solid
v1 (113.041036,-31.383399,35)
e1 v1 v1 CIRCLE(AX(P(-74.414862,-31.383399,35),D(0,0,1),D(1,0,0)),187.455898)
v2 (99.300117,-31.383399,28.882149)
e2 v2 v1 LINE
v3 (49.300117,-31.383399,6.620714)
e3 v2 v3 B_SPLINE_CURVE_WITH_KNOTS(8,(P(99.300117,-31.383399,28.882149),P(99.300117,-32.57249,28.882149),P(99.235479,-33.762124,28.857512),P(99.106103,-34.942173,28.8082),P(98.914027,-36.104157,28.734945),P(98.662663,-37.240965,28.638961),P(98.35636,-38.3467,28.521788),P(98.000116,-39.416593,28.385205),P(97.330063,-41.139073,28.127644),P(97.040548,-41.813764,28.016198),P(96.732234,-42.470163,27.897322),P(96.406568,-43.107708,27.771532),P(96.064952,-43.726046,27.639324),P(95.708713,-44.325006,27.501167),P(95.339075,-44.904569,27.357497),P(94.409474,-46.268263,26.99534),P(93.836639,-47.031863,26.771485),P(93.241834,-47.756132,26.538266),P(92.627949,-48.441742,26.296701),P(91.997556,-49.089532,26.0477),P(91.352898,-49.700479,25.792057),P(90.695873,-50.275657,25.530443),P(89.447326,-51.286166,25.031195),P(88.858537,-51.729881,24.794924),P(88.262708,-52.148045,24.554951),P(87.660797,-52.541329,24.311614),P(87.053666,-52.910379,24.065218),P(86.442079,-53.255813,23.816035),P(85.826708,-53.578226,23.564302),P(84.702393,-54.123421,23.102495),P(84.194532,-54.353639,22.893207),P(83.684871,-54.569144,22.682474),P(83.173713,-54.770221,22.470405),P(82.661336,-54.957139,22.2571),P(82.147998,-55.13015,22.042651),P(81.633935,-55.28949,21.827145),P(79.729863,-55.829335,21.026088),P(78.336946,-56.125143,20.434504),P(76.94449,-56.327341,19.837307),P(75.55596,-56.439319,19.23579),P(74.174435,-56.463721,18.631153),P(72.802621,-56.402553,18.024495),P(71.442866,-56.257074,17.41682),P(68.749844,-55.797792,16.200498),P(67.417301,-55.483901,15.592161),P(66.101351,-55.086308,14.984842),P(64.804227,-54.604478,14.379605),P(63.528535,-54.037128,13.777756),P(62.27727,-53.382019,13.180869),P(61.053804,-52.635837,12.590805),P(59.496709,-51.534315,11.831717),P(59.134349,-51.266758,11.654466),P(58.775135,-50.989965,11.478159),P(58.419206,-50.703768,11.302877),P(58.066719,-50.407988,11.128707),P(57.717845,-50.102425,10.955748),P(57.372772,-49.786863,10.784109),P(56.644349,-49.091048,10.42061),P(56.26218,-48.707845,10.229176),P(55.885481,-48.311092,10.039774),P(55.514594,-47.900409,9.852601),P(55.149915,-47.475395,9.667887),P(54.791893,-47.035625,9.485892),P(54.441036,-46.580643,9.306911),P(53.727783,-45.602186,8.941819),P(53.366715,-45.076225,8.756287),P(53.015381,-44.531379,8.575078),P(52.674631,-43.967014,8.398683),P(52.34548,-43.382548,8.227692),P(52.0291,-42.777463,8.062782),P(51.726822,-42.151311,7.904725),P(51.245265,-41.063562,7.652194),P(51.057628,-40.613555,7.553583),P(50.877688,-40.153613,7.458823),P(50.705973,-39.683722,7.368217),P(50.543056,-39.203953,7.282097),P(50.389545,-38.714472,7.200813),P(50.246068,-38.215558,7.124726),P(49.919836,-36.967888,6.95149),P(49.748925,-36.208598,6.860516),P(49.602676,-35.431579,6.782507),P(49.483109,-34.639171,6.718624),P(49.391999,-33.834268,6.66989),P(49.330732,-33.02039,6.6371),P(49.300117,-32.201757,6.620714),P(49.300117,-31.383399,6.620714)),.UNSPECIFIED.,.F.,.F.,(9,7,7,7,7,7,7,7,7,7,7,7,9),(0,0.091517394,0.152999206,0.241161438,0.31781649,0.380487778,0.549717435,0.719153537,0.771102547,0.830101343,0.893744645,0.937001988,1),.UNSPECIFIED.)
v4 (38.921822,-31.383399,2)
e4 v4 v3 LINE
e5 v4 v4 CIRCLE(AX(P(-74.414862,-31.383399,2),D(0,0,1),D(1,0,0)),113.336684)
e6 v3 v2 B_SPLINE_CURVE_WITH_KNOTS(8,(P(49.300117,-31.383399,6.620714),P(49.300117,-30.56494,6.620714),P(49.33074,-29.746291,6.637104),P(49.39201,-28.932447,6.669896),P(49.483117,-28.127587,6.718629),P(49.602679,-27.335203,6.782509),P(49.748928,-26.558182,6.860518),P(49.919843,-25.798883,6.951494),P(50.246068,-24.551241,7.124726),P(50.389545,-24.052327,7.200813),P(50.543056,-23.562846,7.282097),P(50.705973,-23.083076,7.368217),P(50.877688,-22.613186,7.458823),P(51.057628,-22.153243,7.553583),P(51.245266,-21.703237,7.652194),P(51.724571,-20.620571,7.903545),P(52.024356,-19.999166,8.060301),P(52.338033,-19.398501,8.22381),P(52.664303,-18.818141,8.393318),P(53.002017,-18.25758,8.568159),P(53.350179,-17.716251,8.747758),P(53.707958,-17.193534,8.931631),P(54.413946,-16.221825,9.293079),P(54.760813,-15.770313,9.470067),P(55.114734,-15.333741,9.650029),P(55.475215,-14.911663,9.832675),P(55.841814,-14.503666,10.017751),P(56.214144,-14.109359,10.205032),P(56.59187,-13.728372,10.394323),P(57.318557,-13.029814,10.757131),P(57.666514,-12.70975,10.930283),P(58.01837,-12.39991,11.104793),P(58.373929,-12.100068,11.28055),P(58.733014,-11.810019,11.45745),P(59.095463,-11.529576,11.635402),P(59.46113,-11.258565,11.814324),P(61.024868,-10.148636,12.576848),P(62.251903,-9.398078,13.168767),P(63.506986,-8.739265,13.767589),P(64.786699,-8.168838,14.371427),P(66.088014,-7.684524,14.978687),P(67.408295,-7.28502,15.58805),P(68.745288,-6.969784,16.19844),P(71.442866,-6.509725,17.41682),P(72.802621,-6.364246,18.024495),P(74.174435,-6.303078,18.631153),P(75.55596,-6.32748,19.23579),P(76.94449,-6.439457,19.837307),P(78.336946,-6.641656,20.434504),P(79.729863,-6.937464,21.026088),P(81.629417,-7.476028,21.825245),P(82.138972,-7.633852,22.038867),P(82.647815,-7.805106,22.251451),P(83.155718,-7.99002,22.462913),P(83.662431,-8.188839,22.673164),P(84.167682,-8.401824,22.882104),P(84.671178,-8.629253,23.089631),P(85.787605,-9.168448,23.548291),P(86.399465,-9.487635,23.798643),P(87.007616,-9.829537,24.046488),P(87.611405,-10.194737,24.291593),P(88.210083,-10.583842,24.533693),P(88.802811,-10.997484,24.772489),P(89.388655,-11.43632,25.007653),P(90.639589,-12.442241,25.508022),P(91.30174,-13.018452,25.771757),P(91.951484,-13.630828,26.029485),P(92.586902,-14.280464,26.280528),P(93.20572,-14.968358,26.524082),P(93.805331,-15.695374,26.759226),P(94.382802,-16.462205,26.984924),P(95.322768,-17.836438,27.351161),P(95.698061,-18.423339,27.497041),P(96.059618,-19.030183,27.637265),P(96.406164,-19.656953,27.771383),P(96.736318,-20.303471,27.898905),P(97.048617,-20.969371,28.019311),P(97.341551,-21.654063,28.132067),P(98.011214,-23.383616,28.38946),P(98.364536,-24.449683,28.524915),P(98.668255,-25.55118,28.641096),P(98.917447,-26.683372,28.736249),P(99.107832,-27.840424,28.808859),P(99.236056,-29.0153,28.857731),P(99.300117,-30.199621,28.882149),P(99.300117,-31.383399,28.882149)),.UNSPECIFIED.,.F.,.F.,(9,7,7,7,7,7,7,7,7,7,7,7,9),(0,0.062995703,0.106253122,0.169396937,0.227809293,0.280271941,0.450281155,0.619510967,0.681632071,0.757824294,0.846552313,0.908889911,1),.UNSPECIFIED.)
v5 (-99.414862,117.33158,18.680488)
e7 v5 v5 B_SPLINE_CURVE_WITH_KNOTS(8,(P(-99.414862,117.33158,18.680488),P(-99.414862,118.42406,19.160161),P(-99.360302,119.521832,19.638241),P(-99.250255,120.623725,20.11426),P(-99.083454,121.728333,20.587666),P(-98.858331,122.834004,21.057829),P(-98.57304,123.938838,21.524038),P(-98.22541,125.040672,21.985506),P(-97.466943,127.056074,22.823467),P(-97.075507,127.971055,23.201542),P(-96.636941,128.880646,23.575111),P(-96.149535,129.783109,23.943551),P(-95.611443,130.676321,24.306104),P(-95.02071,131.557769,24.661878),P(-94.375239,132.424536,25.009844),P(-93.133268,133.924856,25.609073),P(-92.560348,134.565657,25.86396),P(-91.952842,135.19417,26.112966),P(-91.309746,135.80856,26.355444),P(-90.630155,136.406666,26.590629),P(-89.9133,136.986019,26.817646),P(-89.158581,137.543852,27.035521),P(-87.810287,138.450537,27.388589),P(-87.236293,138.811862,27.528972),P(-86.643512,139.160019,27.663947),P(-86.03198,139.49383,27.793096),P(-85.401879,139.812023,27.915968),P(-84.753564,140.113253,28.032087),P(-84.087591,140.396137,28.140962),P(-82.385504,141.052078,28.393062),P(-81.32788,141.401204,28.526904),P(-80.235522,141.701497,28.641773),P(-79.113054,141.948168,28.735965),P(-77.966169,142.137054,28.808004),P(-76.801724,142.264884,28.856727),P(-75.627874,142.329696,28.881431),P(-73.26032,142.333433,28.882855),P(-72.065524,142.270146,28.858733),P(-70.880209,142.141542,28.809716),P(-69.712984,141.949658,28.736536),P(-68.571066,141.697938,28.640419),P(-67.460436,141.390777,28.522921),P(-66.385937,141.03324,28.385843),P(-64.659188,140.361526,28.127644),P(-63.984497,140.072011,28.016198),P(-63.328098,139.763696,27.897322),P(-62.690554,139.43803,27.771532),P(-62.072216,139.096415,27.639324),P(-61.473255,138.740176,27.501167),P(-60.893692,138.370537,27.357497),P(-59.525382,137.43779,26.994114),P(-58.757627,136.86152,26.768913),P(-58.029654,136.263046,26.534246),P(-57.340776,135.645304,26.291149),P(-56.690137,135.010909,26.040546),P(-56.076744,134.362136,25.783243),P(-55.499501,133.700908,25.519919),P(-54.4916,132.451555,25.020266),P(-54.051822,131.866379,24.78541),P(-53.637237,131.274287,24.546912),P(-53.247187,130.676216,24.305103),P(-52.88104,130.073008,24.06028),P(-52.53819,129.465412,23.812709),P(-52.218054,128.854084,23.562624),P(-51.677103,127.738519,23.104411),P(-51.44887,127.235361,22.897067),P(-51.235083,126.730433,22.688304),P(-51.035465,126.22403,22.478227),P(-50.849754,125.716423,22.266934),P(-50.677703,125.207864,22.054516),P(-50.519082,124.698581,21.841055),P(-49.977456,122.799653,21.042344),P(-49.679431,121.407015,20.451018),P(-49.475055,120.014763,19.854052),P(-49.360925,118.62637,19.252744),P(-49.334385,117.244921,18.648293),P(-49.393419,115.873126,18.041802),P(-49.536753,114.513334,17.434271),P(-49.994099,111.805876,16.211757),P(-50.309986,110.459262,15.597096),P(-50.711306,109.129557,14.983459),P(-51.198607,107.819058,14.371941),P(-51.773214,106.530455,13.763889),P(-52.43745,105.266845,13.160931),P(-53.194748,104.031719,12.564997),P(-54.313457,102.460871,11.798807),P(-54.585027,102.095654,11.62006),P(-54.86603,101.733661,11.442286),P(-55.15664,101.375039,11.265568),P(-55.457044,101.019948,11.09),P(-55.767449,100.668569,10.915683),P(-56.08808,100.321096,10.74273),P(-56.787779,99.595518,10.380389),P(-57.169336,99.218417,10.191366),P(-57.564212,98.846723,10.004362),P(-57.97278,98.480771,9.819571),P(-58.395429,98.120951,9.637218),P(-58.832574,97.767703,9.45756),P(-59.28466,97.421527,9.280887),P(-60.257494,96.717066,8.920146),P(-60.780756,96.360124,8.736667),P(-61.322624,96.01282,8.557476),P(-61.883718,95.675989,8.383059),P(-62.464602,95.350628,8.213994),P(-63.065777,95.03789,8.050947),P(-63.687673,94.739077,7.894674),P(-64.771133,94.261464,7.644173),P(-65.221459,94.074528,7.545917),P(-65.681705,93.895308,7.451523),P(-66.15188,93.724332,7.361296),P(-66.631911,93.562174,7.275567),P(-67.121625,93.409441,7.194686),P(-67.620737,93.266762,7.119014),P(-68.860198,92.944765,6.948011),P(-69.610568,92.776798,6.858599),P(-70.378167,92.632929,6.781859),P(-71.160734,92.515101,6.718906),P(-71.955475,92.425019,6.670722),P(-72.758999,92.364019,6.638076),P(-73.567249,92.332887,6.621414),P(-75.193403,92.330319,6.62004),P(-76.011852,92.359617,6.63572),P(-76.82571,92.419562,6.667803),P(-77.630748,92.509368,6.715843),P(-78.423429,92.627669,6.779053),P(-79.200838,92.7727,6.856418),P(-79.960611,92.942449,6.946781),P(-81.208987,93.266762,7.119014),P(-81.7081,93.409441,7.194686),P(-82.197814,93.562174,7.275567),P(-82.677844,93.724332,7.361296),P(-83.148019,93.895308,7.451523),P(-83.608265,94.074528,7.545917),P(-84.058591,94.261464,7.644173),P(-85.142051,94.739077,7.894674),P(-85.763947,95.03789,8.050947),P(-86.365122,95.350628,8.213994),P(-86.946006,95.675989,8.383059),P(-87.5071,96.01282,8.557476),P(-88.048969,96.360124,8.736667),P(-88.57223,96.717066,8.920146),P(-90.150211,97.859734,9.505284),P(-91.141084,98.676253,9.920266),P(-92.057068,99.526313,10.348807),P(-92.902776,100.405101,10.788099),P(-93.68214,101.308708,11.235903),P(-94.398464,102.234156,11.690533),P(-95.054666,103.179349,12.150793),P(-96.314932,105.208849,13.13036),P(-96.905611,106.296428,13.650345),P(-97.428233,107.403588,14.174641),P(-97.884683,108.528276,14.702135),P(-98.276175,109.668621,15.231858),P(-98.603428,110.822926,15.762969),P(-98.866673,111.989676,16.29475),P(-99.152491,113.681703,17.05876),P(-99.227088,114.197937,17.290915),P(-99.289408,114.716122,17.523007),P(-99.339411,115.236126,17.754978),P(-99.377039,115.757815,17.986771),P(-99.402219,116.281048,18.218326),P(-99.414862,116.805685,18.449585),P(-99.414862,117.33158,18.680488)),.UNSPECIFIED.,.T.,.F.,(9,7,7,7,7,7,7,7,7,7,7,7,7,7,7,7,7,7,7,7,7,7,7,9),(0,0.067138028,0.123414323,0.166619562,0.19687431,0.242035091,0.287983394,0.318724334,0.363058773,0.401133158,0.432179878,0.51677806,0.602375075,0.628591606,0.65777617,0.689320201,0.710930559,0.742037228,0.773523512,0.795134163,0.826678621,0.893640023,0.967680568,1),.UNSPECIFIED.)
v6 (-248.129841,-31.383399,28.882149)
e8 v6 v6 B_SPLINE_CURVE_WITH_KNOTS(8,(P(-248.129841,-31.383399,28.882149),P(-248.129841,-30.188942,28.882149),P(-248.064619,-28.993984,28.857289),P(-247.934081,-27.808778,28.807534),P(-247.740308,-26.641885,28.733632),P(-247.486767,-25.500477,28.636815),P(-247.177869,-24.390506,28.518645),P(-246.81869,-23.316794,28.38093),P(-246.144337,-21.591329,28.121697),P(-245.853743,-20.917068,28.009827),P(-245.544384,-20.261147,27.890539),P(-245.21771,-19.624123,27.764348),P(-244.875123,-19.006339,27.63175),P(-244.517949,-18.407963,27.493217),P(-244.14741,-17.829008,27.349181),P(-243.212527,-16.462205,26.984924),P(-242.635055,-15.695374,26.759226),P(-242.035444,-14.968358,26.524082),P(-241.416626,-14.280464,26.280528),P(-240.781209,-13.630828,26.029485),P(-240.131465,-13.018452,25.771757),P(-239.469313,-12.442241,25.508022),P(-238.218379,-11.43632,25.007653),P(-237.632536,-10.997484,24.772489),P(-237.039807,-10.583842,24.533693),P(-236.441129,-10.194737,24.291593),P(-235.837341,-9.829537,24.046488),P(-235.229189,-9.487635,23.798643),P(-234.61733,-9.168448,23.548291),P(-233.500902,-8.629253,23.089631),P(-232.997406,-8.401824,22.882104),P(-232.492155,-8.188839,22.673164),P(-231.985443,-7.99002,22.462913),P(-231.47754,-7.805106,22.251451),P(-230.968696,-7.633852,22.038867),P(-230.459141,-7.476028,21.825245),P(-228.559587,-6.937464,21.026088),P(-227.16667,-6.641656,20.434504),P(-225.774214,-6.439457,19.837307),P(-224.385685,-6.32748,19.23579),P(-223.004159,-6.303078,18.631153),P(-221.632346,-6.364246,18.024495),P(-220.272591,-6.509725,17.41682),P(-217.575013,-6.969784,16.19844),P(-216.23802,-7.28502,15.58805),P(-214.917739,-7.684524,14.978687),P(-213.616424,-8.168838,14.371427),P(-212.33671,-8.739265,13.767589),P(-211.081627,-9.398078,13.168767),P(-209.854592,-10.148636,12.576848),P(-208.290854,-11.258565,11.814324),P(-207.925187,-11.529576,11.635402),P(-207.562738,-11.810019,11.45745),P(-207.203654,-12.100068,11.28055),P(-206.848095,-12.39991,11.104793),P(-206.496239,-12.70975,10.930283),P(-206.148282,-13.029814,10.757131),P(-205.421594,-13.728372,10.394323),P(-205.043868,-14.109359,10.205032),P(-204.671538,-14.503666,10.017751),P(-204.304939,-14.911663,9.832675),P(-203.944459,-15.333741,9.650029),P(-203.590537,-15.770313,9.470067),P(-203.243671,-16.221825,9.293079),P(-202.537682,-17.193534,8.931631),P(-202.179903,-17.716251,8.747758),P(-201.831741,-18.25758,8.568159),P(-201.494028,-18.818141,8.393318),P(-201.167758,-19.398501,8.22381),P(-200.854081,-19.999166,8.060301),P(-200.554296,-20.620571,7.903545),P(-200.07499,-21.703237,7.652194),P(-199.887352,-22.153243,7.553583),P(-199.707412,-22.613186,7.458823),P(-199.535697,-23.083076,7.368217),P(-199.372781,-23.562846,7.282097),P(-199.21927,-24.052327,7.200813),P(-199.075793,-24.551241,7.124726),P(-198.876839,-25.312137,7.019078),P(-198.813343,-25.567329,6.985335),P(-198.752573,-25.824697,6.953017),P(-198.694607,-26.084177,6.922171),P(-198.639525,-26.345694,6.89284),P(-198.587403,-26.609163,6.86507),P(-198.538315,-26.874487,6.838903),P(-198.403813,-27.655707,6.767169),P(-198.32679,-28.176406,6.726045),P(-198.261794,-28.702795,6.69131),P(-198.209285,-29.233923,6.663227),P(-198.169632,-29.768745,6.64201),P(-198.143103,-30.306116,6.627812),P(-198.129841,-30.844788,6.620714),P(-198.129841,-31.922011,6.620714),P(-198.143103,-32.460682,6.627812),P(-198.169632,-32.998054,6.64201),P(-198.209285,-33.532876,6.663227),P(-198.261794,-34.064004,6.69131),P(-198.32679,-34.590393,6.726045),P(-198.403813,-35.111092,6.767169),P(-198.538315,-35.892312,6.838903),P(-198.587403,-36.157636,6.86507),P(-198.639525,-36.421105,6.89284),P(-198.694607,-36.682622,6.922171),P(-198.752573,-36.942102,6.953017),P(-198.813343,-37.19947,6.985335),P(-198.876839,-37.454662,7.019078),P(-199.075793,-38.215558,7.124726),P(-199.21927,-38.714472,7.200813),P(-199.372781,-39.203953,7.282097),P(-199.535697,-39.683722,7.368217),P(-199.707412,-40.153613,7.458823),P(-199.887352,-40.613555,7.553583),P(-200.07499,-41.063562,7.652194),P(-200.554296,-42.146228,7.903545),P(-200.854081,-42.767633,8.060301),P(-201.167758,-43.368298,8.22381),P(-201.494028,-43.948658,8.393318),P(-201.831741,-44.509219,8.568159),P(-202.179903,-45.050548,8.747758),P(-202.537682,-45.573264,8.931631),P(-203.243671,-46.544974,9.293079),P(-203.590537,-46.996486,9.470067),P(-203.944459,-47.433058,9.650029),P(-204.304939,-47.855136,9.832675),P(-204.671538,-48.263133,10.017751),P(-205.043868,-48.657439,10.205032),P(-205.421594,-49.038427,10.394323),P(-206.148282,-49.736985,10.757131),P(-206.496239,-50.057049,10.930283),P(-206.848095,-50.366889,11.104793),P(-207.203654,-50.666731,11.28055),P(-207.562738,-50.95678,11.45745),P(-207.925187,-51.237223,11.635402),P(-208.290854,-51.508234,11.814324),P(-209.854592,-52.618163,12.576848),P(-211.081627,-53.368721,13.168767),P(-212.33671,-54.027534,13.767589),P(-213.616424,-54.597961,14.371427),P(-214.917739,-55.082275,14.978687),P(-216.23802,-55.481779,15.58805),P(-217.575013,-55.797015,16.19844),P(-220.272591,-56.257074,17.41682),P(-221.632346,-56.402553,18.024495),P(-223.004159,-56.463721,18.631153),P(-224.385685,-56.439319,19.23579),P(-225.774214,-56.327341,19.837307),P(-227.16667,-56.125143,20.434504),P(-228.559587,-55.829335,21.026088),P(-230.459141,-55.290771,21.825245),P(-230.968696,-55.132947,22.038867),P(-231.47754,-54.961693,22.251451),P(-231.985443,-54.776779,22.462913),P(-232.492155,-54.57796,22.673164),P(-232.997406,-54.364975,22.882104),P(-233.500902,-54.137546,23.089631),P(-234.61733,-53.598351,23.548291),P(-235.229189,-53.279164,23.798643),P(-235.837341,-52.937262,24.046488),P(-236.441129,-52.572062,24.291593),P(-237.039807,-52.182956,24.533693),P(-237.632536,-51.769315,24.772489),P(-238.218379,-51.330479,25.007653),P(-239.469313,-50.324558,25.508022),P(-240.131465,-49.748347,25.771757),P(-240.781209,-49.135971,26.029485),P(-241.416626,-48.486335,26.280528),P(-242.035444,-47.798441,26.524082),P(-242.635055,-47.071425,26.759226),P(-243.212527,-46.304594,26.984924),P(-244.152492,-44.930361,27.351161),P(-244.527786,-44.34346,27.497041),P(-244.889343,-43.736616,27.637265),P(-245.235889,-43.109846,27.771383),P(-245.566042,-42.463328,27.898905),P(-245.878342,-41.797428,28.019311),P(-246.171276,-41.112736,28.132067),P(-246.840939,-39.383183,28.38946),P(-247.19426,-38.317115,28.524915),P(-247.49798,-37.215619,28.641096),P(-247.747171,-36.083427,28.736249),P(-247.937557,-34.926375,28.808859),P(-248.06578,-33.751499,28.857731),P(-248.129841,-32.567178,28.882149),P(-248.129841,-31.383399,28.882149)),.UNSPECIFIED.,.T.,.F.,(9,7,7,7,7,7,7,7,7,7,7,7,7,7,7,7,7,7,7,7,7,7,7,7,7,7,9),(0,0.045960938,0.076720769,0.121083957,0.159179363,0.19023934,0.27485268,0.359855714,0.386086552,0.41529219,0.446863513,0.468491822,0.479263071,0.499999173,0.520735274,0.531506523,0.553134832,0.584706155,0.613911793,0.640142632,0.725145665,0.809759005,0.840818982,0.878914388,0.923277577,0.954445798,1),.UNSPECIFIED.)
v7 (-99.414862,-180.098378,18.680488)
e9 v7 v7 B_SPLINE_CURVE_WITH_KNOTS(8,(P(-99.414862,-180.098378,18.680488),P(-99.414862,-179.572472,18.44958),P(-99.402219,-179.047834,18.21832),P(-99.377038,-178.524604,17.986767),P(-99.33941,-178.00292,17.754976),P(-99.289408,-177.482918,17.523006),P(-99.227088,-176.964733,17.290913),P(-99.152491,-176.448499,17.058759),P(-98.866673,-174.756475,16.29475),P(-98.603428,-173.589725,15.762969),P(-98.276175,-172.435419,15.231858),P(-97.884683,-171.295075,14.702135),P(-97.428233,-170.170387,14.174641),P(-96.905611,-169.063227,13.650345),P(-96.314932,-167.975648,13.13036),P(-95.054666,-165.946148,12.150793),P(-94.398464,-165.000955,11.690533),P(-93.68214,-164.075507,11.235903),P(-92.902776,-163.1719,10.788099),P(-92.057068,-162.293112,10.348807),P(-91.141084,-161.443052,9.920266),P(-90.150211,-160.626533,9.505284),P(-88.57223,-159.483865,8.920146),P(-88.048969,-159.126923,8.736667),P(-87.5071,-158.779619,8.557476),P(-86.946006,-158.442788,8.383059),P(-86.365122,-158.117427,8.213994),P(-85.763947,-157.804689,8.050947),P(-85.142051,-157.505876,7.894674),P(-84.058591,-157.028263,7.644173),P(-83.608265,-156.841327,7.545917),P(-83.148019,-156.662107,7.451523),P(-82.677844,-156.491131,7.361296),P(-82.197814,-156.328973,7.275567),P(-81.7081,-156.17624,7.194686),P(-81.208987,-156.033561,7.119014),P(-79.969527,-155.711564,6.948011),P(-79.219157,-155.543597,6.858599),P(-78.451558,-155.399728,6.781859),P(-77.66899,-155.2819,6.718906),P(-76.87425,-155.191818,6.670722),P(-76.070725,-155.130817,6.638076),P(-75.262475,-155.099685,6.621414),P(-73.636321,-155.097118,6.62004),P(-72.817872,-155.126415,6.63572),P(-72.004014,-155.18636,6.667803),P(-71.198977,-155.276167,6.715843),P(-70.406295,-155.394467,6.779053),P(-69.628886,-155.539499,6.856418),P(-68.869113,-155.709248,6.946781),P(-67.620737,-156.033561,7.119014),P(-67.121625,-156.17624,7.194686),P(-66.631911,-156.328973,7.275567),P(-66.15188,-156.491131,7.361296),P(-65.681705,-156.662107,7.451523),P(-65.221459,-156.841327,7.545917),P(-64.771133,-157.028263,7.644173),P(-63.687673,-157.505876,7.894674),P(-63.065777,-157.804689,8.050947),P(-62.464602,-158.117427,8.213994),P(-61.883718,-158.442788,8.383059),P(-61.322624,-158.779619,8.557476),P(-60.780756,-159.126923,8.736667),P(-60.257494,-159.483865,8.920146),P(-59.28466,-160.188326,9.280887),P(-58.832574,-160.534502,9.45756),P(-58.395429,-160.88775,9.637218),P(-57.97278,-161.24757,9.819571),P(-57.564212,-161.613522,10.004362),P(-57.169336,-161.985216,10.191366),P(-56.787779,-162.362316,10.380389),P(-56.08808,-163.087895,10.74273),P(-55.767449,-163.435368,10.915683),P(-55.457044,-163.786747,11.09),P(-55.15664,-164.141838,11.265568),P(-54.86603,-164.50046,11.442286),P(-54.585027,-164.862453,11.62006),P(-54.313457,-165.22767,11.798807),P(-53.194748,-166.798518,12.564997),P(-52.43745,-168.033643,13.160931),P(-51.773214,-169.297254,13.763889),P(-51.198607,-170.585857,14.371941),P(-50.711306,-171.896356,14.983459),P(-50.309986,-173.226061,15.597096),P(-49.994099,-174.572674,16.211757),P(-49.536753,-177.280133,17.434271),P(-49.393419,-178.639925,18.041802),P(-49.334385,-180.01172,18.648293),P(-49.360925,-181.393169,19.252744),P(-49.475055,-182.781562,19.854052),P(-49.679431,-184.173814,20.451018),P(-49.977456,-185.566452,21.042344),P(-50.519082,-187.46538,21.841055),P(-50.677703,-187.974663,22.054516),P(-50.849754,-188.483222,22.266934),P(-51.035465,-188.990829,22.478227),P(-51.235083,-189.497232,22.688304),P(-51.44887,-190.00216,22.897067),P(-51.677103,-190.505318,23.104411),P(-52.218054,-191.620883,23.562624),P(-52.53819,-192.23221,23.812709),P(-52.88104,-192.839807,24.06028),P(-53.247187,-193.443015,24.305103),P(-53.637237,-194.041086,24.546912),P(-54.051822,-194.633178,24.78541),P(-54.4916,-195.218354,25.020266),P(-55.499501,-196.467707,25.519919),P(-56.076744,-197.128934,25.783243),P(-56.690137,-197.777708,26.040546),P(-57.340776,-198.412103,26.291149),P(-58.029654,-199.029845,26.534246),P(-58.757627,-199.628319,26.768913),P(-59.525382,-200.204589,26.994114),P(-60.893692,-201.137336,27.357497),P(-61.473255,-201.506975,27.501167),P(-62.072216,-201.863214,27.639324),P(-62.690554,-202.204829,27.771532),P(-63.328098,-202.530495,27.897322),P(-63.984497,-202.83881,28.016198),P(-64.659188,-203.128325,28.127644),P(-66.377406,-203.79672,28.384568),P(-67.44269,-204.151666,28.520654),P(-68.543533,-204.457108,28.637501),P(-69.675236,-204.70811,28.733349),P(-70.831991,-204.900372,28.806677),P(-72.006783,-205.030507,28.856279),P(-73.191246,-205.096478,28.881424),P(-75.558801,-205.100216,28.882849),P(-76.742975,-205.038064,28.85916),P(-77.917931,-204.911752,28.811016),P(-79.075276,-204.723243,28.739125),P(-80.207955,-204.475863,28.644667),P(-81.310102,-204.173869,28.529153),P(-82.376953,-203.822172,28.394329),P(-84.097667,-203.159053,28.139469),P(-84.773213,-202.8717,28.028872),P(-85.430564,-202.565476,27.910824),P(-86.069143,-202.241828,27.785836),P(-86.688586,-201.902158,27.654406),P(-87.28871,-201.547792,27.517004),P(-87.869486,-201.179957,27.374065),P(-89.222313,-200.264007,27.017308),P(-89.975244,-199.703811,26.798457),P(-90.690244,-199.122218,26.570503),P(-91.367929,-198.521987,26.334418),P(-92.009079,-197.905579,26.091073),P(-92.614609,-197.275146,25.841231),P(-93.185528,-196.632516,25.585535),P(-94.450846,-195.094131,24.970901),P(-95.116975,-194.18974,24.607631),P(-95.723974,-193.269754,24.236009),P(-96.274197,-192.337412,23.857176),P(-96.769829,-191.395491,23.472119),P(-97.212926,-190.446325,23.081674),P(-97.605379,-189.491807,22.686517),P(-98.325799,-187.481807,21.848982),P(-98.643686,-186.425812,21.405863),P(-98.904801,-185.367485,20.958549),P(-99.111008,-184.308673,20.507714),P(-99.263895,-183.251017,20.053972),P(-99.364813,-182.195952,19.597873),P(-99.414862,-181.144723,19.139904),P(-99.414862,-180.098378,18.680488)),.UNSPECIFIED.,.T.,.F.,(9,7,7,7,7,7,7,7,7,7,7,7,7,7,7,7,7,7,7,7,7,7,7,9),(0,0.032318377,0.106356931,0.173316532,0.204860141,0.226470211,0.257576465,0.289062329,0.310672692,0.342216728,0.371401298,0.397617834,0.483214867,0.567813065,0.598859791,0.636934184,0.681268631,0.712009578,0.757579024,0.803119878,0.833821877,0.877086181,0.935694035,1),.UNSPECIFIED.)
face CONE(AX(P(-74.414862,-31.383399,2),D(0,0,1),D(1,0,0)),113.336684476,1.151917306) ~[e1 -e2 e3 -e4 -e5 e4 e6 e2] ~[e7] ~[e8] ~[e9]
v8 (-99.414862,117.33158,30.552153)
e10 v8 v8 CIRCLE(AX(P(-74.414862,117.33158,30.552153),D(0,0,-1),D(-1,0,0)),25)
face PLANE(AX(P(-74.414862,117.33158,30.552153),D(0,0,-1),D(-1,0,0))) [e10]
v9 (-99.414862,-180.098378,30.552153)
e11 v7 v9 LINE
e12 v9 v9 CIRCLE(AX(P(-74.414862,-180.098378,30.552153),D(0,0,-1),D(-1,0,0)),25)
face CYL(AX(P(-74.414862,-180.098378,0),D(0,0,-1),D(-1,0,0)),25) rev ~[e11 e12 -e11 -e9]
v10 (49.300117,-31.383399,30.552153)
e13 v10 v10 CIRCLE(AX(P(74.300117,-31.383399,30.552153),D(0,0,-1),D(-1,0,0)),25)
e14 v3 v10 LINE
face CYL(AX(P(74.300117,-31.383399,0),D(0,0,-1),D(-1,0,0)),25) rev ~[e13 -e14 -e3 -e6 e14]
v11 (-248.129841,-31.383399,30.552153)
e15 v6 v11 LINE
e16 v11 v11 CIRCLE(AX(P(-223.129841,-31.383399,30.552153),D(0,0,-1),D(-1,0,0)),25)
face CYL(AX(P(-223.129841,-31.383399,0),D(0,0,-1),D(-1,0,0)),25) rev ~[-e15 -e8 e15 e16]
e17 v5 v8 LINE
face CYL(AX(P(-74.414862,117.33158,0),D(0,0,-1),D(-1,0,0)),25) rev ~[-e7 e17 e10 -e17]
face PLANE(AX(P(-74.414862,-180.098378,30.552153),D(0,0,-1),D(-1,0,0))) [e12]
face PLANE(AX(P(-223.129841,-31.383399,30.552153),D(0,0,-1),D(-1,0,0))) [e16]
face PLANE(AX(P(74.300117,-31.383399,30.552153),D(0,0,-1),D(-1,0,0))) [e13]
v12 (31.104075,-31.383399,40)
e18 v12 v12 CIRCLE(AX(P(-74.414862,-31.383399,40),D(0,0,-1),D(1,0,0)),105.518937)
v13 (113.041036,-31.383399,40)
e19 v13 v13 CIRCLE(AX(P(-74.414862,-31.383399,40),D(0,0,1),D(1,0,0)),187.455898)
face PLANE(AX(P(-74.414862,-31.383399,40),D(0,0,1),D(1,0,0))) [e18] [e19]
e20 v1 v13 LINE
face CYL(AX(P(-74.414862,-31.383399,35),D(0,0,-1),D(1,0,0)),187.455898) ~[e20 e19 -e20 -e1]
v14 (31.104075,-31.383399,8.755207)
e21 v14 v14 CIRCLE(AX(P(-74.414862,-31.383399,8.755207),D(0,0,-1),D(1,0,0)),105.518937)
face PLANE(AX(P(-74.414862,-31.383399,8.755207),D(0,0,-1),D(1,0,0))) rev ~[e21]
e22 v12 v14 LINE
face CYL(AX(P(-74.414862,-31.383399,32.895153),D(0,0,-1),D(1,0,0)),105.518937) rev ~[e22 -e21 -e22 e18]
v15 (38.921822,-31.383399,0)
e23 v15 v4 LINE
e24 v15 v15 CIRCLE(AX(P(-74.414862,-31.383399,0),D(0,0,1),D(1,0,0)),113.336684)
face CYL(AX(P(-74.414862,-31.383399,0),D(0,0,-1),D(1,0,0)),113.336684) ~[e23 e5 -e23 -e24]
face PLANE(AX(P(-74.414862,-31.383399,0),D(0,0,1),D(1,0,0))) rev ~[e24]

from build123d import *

# Parameters (mm, degrees)
SKETCH1_R           = 113.336684476
BOSS_EXTRUDE1_DEPTH = 2
SKETCH3_R           = 113.336684476
BOSS_EXTRUDE2_DEPTH = 33
BOSS_EXTRUDE2_DRAFT = -66
SKETCH4_R           = 187.455898015
BOSS_EXTRUDE3_DEPTH = 5
SKETCH6_W           = 105.518937327
SKETCH6_H           = 48.279891136
SKETCH7_R           = 25
CUT_EXTRUDE1_DEPTH  = 30.552152957


with BuildPart() as part:
    # Sketch1 → Boss-Extrude1 (new body)
    with BuildSketch(Plane.XY):
        with Locations((-74.414862174, -31.38339944)):
            Circle(SKETCH1_R)
    extrude(amount=BOSS_EXTRUDE1_DEPTH)


with BuildPart() as boss_extrude2_tool:
    # Sketch3 → Boss-Extrude2 (with draft: the straight prism first)
    with BuildSketch(Plane.XY.offset(2)):
        with Locations((-74.414862174, -31.38339944)):
            Circle(SKETCH3_R)
    extrude(amount=BOSS_EXTRUDE2_DEPTH)
    # Boss-Extrude2: the draft: its side faces are tilted about the plane it starts from
    boss_extrude2_sides = [boss_extrude2_tool.faces().sort_by_distance(p)[0] for p in [
        (-187.75154665, -31.38339944, 18.5),
    ]]
    draft(boss_extrude2_sides, Plane.XY.offset(2), BOSS_EXTRUDE2_DRAFT)


with BuildPart() as part_1:
    add(part.part)

    # Boss-Extrude2: add boss_extrude2_tool
    add(boss_extrude2_tool.part)

    # Sketch4 → Boss-Extrude3 (add)
    with BuildSketch(Plane.XY.offset(35)):
        with Locations((-74.414862174, -31.38339944)):
            Circle(SKETCH4_R)
    extrude(amount=BOSS_EXTRUDE3_DEPTH)

    # Sketch6 → Cut-Revolve1 (revolve, cut)
    with BuildSketch(Plane(origin=(0, -31.38339944, 0), x_dir=(-1, 0, 0), z_dir=(0, -1, 0))):
        with Locations((21.655393511, -32.895152959)):
            Rectangle(SKETCH6_W, SKETCH6_H)
    revolve(axis=Axis((-74.414862174, -31.38339944, -21.108642796), (0, 0, -1)), mode=Mode.SUBTRACT)

    # Sketch7 → Cut-Extrude1 (cut)
    with BuildSketch(Plane(origin=(0, 0, 0), x_dir=(-1, 0, 0), z_dir=(0, 0, -1))):
        with Locations((-74.30011683, -31.38339944)):
            Circle(SKETCH7_R)
        with Locations((74.414862174, -180.098378444)):
            Circle(SKETCH7_R)
        with Locations((74.414862174, 117.331579563)):
            Circle(SKETCH7_R)
        with Locations((223.129841177, -31.38339944)):
            Circle(SKETCH7_R)
    extrude(amount=-CUT_EXTRUDE1_DEPTH, mode=Mode.SUBTRACT)


solid = part_1.part
